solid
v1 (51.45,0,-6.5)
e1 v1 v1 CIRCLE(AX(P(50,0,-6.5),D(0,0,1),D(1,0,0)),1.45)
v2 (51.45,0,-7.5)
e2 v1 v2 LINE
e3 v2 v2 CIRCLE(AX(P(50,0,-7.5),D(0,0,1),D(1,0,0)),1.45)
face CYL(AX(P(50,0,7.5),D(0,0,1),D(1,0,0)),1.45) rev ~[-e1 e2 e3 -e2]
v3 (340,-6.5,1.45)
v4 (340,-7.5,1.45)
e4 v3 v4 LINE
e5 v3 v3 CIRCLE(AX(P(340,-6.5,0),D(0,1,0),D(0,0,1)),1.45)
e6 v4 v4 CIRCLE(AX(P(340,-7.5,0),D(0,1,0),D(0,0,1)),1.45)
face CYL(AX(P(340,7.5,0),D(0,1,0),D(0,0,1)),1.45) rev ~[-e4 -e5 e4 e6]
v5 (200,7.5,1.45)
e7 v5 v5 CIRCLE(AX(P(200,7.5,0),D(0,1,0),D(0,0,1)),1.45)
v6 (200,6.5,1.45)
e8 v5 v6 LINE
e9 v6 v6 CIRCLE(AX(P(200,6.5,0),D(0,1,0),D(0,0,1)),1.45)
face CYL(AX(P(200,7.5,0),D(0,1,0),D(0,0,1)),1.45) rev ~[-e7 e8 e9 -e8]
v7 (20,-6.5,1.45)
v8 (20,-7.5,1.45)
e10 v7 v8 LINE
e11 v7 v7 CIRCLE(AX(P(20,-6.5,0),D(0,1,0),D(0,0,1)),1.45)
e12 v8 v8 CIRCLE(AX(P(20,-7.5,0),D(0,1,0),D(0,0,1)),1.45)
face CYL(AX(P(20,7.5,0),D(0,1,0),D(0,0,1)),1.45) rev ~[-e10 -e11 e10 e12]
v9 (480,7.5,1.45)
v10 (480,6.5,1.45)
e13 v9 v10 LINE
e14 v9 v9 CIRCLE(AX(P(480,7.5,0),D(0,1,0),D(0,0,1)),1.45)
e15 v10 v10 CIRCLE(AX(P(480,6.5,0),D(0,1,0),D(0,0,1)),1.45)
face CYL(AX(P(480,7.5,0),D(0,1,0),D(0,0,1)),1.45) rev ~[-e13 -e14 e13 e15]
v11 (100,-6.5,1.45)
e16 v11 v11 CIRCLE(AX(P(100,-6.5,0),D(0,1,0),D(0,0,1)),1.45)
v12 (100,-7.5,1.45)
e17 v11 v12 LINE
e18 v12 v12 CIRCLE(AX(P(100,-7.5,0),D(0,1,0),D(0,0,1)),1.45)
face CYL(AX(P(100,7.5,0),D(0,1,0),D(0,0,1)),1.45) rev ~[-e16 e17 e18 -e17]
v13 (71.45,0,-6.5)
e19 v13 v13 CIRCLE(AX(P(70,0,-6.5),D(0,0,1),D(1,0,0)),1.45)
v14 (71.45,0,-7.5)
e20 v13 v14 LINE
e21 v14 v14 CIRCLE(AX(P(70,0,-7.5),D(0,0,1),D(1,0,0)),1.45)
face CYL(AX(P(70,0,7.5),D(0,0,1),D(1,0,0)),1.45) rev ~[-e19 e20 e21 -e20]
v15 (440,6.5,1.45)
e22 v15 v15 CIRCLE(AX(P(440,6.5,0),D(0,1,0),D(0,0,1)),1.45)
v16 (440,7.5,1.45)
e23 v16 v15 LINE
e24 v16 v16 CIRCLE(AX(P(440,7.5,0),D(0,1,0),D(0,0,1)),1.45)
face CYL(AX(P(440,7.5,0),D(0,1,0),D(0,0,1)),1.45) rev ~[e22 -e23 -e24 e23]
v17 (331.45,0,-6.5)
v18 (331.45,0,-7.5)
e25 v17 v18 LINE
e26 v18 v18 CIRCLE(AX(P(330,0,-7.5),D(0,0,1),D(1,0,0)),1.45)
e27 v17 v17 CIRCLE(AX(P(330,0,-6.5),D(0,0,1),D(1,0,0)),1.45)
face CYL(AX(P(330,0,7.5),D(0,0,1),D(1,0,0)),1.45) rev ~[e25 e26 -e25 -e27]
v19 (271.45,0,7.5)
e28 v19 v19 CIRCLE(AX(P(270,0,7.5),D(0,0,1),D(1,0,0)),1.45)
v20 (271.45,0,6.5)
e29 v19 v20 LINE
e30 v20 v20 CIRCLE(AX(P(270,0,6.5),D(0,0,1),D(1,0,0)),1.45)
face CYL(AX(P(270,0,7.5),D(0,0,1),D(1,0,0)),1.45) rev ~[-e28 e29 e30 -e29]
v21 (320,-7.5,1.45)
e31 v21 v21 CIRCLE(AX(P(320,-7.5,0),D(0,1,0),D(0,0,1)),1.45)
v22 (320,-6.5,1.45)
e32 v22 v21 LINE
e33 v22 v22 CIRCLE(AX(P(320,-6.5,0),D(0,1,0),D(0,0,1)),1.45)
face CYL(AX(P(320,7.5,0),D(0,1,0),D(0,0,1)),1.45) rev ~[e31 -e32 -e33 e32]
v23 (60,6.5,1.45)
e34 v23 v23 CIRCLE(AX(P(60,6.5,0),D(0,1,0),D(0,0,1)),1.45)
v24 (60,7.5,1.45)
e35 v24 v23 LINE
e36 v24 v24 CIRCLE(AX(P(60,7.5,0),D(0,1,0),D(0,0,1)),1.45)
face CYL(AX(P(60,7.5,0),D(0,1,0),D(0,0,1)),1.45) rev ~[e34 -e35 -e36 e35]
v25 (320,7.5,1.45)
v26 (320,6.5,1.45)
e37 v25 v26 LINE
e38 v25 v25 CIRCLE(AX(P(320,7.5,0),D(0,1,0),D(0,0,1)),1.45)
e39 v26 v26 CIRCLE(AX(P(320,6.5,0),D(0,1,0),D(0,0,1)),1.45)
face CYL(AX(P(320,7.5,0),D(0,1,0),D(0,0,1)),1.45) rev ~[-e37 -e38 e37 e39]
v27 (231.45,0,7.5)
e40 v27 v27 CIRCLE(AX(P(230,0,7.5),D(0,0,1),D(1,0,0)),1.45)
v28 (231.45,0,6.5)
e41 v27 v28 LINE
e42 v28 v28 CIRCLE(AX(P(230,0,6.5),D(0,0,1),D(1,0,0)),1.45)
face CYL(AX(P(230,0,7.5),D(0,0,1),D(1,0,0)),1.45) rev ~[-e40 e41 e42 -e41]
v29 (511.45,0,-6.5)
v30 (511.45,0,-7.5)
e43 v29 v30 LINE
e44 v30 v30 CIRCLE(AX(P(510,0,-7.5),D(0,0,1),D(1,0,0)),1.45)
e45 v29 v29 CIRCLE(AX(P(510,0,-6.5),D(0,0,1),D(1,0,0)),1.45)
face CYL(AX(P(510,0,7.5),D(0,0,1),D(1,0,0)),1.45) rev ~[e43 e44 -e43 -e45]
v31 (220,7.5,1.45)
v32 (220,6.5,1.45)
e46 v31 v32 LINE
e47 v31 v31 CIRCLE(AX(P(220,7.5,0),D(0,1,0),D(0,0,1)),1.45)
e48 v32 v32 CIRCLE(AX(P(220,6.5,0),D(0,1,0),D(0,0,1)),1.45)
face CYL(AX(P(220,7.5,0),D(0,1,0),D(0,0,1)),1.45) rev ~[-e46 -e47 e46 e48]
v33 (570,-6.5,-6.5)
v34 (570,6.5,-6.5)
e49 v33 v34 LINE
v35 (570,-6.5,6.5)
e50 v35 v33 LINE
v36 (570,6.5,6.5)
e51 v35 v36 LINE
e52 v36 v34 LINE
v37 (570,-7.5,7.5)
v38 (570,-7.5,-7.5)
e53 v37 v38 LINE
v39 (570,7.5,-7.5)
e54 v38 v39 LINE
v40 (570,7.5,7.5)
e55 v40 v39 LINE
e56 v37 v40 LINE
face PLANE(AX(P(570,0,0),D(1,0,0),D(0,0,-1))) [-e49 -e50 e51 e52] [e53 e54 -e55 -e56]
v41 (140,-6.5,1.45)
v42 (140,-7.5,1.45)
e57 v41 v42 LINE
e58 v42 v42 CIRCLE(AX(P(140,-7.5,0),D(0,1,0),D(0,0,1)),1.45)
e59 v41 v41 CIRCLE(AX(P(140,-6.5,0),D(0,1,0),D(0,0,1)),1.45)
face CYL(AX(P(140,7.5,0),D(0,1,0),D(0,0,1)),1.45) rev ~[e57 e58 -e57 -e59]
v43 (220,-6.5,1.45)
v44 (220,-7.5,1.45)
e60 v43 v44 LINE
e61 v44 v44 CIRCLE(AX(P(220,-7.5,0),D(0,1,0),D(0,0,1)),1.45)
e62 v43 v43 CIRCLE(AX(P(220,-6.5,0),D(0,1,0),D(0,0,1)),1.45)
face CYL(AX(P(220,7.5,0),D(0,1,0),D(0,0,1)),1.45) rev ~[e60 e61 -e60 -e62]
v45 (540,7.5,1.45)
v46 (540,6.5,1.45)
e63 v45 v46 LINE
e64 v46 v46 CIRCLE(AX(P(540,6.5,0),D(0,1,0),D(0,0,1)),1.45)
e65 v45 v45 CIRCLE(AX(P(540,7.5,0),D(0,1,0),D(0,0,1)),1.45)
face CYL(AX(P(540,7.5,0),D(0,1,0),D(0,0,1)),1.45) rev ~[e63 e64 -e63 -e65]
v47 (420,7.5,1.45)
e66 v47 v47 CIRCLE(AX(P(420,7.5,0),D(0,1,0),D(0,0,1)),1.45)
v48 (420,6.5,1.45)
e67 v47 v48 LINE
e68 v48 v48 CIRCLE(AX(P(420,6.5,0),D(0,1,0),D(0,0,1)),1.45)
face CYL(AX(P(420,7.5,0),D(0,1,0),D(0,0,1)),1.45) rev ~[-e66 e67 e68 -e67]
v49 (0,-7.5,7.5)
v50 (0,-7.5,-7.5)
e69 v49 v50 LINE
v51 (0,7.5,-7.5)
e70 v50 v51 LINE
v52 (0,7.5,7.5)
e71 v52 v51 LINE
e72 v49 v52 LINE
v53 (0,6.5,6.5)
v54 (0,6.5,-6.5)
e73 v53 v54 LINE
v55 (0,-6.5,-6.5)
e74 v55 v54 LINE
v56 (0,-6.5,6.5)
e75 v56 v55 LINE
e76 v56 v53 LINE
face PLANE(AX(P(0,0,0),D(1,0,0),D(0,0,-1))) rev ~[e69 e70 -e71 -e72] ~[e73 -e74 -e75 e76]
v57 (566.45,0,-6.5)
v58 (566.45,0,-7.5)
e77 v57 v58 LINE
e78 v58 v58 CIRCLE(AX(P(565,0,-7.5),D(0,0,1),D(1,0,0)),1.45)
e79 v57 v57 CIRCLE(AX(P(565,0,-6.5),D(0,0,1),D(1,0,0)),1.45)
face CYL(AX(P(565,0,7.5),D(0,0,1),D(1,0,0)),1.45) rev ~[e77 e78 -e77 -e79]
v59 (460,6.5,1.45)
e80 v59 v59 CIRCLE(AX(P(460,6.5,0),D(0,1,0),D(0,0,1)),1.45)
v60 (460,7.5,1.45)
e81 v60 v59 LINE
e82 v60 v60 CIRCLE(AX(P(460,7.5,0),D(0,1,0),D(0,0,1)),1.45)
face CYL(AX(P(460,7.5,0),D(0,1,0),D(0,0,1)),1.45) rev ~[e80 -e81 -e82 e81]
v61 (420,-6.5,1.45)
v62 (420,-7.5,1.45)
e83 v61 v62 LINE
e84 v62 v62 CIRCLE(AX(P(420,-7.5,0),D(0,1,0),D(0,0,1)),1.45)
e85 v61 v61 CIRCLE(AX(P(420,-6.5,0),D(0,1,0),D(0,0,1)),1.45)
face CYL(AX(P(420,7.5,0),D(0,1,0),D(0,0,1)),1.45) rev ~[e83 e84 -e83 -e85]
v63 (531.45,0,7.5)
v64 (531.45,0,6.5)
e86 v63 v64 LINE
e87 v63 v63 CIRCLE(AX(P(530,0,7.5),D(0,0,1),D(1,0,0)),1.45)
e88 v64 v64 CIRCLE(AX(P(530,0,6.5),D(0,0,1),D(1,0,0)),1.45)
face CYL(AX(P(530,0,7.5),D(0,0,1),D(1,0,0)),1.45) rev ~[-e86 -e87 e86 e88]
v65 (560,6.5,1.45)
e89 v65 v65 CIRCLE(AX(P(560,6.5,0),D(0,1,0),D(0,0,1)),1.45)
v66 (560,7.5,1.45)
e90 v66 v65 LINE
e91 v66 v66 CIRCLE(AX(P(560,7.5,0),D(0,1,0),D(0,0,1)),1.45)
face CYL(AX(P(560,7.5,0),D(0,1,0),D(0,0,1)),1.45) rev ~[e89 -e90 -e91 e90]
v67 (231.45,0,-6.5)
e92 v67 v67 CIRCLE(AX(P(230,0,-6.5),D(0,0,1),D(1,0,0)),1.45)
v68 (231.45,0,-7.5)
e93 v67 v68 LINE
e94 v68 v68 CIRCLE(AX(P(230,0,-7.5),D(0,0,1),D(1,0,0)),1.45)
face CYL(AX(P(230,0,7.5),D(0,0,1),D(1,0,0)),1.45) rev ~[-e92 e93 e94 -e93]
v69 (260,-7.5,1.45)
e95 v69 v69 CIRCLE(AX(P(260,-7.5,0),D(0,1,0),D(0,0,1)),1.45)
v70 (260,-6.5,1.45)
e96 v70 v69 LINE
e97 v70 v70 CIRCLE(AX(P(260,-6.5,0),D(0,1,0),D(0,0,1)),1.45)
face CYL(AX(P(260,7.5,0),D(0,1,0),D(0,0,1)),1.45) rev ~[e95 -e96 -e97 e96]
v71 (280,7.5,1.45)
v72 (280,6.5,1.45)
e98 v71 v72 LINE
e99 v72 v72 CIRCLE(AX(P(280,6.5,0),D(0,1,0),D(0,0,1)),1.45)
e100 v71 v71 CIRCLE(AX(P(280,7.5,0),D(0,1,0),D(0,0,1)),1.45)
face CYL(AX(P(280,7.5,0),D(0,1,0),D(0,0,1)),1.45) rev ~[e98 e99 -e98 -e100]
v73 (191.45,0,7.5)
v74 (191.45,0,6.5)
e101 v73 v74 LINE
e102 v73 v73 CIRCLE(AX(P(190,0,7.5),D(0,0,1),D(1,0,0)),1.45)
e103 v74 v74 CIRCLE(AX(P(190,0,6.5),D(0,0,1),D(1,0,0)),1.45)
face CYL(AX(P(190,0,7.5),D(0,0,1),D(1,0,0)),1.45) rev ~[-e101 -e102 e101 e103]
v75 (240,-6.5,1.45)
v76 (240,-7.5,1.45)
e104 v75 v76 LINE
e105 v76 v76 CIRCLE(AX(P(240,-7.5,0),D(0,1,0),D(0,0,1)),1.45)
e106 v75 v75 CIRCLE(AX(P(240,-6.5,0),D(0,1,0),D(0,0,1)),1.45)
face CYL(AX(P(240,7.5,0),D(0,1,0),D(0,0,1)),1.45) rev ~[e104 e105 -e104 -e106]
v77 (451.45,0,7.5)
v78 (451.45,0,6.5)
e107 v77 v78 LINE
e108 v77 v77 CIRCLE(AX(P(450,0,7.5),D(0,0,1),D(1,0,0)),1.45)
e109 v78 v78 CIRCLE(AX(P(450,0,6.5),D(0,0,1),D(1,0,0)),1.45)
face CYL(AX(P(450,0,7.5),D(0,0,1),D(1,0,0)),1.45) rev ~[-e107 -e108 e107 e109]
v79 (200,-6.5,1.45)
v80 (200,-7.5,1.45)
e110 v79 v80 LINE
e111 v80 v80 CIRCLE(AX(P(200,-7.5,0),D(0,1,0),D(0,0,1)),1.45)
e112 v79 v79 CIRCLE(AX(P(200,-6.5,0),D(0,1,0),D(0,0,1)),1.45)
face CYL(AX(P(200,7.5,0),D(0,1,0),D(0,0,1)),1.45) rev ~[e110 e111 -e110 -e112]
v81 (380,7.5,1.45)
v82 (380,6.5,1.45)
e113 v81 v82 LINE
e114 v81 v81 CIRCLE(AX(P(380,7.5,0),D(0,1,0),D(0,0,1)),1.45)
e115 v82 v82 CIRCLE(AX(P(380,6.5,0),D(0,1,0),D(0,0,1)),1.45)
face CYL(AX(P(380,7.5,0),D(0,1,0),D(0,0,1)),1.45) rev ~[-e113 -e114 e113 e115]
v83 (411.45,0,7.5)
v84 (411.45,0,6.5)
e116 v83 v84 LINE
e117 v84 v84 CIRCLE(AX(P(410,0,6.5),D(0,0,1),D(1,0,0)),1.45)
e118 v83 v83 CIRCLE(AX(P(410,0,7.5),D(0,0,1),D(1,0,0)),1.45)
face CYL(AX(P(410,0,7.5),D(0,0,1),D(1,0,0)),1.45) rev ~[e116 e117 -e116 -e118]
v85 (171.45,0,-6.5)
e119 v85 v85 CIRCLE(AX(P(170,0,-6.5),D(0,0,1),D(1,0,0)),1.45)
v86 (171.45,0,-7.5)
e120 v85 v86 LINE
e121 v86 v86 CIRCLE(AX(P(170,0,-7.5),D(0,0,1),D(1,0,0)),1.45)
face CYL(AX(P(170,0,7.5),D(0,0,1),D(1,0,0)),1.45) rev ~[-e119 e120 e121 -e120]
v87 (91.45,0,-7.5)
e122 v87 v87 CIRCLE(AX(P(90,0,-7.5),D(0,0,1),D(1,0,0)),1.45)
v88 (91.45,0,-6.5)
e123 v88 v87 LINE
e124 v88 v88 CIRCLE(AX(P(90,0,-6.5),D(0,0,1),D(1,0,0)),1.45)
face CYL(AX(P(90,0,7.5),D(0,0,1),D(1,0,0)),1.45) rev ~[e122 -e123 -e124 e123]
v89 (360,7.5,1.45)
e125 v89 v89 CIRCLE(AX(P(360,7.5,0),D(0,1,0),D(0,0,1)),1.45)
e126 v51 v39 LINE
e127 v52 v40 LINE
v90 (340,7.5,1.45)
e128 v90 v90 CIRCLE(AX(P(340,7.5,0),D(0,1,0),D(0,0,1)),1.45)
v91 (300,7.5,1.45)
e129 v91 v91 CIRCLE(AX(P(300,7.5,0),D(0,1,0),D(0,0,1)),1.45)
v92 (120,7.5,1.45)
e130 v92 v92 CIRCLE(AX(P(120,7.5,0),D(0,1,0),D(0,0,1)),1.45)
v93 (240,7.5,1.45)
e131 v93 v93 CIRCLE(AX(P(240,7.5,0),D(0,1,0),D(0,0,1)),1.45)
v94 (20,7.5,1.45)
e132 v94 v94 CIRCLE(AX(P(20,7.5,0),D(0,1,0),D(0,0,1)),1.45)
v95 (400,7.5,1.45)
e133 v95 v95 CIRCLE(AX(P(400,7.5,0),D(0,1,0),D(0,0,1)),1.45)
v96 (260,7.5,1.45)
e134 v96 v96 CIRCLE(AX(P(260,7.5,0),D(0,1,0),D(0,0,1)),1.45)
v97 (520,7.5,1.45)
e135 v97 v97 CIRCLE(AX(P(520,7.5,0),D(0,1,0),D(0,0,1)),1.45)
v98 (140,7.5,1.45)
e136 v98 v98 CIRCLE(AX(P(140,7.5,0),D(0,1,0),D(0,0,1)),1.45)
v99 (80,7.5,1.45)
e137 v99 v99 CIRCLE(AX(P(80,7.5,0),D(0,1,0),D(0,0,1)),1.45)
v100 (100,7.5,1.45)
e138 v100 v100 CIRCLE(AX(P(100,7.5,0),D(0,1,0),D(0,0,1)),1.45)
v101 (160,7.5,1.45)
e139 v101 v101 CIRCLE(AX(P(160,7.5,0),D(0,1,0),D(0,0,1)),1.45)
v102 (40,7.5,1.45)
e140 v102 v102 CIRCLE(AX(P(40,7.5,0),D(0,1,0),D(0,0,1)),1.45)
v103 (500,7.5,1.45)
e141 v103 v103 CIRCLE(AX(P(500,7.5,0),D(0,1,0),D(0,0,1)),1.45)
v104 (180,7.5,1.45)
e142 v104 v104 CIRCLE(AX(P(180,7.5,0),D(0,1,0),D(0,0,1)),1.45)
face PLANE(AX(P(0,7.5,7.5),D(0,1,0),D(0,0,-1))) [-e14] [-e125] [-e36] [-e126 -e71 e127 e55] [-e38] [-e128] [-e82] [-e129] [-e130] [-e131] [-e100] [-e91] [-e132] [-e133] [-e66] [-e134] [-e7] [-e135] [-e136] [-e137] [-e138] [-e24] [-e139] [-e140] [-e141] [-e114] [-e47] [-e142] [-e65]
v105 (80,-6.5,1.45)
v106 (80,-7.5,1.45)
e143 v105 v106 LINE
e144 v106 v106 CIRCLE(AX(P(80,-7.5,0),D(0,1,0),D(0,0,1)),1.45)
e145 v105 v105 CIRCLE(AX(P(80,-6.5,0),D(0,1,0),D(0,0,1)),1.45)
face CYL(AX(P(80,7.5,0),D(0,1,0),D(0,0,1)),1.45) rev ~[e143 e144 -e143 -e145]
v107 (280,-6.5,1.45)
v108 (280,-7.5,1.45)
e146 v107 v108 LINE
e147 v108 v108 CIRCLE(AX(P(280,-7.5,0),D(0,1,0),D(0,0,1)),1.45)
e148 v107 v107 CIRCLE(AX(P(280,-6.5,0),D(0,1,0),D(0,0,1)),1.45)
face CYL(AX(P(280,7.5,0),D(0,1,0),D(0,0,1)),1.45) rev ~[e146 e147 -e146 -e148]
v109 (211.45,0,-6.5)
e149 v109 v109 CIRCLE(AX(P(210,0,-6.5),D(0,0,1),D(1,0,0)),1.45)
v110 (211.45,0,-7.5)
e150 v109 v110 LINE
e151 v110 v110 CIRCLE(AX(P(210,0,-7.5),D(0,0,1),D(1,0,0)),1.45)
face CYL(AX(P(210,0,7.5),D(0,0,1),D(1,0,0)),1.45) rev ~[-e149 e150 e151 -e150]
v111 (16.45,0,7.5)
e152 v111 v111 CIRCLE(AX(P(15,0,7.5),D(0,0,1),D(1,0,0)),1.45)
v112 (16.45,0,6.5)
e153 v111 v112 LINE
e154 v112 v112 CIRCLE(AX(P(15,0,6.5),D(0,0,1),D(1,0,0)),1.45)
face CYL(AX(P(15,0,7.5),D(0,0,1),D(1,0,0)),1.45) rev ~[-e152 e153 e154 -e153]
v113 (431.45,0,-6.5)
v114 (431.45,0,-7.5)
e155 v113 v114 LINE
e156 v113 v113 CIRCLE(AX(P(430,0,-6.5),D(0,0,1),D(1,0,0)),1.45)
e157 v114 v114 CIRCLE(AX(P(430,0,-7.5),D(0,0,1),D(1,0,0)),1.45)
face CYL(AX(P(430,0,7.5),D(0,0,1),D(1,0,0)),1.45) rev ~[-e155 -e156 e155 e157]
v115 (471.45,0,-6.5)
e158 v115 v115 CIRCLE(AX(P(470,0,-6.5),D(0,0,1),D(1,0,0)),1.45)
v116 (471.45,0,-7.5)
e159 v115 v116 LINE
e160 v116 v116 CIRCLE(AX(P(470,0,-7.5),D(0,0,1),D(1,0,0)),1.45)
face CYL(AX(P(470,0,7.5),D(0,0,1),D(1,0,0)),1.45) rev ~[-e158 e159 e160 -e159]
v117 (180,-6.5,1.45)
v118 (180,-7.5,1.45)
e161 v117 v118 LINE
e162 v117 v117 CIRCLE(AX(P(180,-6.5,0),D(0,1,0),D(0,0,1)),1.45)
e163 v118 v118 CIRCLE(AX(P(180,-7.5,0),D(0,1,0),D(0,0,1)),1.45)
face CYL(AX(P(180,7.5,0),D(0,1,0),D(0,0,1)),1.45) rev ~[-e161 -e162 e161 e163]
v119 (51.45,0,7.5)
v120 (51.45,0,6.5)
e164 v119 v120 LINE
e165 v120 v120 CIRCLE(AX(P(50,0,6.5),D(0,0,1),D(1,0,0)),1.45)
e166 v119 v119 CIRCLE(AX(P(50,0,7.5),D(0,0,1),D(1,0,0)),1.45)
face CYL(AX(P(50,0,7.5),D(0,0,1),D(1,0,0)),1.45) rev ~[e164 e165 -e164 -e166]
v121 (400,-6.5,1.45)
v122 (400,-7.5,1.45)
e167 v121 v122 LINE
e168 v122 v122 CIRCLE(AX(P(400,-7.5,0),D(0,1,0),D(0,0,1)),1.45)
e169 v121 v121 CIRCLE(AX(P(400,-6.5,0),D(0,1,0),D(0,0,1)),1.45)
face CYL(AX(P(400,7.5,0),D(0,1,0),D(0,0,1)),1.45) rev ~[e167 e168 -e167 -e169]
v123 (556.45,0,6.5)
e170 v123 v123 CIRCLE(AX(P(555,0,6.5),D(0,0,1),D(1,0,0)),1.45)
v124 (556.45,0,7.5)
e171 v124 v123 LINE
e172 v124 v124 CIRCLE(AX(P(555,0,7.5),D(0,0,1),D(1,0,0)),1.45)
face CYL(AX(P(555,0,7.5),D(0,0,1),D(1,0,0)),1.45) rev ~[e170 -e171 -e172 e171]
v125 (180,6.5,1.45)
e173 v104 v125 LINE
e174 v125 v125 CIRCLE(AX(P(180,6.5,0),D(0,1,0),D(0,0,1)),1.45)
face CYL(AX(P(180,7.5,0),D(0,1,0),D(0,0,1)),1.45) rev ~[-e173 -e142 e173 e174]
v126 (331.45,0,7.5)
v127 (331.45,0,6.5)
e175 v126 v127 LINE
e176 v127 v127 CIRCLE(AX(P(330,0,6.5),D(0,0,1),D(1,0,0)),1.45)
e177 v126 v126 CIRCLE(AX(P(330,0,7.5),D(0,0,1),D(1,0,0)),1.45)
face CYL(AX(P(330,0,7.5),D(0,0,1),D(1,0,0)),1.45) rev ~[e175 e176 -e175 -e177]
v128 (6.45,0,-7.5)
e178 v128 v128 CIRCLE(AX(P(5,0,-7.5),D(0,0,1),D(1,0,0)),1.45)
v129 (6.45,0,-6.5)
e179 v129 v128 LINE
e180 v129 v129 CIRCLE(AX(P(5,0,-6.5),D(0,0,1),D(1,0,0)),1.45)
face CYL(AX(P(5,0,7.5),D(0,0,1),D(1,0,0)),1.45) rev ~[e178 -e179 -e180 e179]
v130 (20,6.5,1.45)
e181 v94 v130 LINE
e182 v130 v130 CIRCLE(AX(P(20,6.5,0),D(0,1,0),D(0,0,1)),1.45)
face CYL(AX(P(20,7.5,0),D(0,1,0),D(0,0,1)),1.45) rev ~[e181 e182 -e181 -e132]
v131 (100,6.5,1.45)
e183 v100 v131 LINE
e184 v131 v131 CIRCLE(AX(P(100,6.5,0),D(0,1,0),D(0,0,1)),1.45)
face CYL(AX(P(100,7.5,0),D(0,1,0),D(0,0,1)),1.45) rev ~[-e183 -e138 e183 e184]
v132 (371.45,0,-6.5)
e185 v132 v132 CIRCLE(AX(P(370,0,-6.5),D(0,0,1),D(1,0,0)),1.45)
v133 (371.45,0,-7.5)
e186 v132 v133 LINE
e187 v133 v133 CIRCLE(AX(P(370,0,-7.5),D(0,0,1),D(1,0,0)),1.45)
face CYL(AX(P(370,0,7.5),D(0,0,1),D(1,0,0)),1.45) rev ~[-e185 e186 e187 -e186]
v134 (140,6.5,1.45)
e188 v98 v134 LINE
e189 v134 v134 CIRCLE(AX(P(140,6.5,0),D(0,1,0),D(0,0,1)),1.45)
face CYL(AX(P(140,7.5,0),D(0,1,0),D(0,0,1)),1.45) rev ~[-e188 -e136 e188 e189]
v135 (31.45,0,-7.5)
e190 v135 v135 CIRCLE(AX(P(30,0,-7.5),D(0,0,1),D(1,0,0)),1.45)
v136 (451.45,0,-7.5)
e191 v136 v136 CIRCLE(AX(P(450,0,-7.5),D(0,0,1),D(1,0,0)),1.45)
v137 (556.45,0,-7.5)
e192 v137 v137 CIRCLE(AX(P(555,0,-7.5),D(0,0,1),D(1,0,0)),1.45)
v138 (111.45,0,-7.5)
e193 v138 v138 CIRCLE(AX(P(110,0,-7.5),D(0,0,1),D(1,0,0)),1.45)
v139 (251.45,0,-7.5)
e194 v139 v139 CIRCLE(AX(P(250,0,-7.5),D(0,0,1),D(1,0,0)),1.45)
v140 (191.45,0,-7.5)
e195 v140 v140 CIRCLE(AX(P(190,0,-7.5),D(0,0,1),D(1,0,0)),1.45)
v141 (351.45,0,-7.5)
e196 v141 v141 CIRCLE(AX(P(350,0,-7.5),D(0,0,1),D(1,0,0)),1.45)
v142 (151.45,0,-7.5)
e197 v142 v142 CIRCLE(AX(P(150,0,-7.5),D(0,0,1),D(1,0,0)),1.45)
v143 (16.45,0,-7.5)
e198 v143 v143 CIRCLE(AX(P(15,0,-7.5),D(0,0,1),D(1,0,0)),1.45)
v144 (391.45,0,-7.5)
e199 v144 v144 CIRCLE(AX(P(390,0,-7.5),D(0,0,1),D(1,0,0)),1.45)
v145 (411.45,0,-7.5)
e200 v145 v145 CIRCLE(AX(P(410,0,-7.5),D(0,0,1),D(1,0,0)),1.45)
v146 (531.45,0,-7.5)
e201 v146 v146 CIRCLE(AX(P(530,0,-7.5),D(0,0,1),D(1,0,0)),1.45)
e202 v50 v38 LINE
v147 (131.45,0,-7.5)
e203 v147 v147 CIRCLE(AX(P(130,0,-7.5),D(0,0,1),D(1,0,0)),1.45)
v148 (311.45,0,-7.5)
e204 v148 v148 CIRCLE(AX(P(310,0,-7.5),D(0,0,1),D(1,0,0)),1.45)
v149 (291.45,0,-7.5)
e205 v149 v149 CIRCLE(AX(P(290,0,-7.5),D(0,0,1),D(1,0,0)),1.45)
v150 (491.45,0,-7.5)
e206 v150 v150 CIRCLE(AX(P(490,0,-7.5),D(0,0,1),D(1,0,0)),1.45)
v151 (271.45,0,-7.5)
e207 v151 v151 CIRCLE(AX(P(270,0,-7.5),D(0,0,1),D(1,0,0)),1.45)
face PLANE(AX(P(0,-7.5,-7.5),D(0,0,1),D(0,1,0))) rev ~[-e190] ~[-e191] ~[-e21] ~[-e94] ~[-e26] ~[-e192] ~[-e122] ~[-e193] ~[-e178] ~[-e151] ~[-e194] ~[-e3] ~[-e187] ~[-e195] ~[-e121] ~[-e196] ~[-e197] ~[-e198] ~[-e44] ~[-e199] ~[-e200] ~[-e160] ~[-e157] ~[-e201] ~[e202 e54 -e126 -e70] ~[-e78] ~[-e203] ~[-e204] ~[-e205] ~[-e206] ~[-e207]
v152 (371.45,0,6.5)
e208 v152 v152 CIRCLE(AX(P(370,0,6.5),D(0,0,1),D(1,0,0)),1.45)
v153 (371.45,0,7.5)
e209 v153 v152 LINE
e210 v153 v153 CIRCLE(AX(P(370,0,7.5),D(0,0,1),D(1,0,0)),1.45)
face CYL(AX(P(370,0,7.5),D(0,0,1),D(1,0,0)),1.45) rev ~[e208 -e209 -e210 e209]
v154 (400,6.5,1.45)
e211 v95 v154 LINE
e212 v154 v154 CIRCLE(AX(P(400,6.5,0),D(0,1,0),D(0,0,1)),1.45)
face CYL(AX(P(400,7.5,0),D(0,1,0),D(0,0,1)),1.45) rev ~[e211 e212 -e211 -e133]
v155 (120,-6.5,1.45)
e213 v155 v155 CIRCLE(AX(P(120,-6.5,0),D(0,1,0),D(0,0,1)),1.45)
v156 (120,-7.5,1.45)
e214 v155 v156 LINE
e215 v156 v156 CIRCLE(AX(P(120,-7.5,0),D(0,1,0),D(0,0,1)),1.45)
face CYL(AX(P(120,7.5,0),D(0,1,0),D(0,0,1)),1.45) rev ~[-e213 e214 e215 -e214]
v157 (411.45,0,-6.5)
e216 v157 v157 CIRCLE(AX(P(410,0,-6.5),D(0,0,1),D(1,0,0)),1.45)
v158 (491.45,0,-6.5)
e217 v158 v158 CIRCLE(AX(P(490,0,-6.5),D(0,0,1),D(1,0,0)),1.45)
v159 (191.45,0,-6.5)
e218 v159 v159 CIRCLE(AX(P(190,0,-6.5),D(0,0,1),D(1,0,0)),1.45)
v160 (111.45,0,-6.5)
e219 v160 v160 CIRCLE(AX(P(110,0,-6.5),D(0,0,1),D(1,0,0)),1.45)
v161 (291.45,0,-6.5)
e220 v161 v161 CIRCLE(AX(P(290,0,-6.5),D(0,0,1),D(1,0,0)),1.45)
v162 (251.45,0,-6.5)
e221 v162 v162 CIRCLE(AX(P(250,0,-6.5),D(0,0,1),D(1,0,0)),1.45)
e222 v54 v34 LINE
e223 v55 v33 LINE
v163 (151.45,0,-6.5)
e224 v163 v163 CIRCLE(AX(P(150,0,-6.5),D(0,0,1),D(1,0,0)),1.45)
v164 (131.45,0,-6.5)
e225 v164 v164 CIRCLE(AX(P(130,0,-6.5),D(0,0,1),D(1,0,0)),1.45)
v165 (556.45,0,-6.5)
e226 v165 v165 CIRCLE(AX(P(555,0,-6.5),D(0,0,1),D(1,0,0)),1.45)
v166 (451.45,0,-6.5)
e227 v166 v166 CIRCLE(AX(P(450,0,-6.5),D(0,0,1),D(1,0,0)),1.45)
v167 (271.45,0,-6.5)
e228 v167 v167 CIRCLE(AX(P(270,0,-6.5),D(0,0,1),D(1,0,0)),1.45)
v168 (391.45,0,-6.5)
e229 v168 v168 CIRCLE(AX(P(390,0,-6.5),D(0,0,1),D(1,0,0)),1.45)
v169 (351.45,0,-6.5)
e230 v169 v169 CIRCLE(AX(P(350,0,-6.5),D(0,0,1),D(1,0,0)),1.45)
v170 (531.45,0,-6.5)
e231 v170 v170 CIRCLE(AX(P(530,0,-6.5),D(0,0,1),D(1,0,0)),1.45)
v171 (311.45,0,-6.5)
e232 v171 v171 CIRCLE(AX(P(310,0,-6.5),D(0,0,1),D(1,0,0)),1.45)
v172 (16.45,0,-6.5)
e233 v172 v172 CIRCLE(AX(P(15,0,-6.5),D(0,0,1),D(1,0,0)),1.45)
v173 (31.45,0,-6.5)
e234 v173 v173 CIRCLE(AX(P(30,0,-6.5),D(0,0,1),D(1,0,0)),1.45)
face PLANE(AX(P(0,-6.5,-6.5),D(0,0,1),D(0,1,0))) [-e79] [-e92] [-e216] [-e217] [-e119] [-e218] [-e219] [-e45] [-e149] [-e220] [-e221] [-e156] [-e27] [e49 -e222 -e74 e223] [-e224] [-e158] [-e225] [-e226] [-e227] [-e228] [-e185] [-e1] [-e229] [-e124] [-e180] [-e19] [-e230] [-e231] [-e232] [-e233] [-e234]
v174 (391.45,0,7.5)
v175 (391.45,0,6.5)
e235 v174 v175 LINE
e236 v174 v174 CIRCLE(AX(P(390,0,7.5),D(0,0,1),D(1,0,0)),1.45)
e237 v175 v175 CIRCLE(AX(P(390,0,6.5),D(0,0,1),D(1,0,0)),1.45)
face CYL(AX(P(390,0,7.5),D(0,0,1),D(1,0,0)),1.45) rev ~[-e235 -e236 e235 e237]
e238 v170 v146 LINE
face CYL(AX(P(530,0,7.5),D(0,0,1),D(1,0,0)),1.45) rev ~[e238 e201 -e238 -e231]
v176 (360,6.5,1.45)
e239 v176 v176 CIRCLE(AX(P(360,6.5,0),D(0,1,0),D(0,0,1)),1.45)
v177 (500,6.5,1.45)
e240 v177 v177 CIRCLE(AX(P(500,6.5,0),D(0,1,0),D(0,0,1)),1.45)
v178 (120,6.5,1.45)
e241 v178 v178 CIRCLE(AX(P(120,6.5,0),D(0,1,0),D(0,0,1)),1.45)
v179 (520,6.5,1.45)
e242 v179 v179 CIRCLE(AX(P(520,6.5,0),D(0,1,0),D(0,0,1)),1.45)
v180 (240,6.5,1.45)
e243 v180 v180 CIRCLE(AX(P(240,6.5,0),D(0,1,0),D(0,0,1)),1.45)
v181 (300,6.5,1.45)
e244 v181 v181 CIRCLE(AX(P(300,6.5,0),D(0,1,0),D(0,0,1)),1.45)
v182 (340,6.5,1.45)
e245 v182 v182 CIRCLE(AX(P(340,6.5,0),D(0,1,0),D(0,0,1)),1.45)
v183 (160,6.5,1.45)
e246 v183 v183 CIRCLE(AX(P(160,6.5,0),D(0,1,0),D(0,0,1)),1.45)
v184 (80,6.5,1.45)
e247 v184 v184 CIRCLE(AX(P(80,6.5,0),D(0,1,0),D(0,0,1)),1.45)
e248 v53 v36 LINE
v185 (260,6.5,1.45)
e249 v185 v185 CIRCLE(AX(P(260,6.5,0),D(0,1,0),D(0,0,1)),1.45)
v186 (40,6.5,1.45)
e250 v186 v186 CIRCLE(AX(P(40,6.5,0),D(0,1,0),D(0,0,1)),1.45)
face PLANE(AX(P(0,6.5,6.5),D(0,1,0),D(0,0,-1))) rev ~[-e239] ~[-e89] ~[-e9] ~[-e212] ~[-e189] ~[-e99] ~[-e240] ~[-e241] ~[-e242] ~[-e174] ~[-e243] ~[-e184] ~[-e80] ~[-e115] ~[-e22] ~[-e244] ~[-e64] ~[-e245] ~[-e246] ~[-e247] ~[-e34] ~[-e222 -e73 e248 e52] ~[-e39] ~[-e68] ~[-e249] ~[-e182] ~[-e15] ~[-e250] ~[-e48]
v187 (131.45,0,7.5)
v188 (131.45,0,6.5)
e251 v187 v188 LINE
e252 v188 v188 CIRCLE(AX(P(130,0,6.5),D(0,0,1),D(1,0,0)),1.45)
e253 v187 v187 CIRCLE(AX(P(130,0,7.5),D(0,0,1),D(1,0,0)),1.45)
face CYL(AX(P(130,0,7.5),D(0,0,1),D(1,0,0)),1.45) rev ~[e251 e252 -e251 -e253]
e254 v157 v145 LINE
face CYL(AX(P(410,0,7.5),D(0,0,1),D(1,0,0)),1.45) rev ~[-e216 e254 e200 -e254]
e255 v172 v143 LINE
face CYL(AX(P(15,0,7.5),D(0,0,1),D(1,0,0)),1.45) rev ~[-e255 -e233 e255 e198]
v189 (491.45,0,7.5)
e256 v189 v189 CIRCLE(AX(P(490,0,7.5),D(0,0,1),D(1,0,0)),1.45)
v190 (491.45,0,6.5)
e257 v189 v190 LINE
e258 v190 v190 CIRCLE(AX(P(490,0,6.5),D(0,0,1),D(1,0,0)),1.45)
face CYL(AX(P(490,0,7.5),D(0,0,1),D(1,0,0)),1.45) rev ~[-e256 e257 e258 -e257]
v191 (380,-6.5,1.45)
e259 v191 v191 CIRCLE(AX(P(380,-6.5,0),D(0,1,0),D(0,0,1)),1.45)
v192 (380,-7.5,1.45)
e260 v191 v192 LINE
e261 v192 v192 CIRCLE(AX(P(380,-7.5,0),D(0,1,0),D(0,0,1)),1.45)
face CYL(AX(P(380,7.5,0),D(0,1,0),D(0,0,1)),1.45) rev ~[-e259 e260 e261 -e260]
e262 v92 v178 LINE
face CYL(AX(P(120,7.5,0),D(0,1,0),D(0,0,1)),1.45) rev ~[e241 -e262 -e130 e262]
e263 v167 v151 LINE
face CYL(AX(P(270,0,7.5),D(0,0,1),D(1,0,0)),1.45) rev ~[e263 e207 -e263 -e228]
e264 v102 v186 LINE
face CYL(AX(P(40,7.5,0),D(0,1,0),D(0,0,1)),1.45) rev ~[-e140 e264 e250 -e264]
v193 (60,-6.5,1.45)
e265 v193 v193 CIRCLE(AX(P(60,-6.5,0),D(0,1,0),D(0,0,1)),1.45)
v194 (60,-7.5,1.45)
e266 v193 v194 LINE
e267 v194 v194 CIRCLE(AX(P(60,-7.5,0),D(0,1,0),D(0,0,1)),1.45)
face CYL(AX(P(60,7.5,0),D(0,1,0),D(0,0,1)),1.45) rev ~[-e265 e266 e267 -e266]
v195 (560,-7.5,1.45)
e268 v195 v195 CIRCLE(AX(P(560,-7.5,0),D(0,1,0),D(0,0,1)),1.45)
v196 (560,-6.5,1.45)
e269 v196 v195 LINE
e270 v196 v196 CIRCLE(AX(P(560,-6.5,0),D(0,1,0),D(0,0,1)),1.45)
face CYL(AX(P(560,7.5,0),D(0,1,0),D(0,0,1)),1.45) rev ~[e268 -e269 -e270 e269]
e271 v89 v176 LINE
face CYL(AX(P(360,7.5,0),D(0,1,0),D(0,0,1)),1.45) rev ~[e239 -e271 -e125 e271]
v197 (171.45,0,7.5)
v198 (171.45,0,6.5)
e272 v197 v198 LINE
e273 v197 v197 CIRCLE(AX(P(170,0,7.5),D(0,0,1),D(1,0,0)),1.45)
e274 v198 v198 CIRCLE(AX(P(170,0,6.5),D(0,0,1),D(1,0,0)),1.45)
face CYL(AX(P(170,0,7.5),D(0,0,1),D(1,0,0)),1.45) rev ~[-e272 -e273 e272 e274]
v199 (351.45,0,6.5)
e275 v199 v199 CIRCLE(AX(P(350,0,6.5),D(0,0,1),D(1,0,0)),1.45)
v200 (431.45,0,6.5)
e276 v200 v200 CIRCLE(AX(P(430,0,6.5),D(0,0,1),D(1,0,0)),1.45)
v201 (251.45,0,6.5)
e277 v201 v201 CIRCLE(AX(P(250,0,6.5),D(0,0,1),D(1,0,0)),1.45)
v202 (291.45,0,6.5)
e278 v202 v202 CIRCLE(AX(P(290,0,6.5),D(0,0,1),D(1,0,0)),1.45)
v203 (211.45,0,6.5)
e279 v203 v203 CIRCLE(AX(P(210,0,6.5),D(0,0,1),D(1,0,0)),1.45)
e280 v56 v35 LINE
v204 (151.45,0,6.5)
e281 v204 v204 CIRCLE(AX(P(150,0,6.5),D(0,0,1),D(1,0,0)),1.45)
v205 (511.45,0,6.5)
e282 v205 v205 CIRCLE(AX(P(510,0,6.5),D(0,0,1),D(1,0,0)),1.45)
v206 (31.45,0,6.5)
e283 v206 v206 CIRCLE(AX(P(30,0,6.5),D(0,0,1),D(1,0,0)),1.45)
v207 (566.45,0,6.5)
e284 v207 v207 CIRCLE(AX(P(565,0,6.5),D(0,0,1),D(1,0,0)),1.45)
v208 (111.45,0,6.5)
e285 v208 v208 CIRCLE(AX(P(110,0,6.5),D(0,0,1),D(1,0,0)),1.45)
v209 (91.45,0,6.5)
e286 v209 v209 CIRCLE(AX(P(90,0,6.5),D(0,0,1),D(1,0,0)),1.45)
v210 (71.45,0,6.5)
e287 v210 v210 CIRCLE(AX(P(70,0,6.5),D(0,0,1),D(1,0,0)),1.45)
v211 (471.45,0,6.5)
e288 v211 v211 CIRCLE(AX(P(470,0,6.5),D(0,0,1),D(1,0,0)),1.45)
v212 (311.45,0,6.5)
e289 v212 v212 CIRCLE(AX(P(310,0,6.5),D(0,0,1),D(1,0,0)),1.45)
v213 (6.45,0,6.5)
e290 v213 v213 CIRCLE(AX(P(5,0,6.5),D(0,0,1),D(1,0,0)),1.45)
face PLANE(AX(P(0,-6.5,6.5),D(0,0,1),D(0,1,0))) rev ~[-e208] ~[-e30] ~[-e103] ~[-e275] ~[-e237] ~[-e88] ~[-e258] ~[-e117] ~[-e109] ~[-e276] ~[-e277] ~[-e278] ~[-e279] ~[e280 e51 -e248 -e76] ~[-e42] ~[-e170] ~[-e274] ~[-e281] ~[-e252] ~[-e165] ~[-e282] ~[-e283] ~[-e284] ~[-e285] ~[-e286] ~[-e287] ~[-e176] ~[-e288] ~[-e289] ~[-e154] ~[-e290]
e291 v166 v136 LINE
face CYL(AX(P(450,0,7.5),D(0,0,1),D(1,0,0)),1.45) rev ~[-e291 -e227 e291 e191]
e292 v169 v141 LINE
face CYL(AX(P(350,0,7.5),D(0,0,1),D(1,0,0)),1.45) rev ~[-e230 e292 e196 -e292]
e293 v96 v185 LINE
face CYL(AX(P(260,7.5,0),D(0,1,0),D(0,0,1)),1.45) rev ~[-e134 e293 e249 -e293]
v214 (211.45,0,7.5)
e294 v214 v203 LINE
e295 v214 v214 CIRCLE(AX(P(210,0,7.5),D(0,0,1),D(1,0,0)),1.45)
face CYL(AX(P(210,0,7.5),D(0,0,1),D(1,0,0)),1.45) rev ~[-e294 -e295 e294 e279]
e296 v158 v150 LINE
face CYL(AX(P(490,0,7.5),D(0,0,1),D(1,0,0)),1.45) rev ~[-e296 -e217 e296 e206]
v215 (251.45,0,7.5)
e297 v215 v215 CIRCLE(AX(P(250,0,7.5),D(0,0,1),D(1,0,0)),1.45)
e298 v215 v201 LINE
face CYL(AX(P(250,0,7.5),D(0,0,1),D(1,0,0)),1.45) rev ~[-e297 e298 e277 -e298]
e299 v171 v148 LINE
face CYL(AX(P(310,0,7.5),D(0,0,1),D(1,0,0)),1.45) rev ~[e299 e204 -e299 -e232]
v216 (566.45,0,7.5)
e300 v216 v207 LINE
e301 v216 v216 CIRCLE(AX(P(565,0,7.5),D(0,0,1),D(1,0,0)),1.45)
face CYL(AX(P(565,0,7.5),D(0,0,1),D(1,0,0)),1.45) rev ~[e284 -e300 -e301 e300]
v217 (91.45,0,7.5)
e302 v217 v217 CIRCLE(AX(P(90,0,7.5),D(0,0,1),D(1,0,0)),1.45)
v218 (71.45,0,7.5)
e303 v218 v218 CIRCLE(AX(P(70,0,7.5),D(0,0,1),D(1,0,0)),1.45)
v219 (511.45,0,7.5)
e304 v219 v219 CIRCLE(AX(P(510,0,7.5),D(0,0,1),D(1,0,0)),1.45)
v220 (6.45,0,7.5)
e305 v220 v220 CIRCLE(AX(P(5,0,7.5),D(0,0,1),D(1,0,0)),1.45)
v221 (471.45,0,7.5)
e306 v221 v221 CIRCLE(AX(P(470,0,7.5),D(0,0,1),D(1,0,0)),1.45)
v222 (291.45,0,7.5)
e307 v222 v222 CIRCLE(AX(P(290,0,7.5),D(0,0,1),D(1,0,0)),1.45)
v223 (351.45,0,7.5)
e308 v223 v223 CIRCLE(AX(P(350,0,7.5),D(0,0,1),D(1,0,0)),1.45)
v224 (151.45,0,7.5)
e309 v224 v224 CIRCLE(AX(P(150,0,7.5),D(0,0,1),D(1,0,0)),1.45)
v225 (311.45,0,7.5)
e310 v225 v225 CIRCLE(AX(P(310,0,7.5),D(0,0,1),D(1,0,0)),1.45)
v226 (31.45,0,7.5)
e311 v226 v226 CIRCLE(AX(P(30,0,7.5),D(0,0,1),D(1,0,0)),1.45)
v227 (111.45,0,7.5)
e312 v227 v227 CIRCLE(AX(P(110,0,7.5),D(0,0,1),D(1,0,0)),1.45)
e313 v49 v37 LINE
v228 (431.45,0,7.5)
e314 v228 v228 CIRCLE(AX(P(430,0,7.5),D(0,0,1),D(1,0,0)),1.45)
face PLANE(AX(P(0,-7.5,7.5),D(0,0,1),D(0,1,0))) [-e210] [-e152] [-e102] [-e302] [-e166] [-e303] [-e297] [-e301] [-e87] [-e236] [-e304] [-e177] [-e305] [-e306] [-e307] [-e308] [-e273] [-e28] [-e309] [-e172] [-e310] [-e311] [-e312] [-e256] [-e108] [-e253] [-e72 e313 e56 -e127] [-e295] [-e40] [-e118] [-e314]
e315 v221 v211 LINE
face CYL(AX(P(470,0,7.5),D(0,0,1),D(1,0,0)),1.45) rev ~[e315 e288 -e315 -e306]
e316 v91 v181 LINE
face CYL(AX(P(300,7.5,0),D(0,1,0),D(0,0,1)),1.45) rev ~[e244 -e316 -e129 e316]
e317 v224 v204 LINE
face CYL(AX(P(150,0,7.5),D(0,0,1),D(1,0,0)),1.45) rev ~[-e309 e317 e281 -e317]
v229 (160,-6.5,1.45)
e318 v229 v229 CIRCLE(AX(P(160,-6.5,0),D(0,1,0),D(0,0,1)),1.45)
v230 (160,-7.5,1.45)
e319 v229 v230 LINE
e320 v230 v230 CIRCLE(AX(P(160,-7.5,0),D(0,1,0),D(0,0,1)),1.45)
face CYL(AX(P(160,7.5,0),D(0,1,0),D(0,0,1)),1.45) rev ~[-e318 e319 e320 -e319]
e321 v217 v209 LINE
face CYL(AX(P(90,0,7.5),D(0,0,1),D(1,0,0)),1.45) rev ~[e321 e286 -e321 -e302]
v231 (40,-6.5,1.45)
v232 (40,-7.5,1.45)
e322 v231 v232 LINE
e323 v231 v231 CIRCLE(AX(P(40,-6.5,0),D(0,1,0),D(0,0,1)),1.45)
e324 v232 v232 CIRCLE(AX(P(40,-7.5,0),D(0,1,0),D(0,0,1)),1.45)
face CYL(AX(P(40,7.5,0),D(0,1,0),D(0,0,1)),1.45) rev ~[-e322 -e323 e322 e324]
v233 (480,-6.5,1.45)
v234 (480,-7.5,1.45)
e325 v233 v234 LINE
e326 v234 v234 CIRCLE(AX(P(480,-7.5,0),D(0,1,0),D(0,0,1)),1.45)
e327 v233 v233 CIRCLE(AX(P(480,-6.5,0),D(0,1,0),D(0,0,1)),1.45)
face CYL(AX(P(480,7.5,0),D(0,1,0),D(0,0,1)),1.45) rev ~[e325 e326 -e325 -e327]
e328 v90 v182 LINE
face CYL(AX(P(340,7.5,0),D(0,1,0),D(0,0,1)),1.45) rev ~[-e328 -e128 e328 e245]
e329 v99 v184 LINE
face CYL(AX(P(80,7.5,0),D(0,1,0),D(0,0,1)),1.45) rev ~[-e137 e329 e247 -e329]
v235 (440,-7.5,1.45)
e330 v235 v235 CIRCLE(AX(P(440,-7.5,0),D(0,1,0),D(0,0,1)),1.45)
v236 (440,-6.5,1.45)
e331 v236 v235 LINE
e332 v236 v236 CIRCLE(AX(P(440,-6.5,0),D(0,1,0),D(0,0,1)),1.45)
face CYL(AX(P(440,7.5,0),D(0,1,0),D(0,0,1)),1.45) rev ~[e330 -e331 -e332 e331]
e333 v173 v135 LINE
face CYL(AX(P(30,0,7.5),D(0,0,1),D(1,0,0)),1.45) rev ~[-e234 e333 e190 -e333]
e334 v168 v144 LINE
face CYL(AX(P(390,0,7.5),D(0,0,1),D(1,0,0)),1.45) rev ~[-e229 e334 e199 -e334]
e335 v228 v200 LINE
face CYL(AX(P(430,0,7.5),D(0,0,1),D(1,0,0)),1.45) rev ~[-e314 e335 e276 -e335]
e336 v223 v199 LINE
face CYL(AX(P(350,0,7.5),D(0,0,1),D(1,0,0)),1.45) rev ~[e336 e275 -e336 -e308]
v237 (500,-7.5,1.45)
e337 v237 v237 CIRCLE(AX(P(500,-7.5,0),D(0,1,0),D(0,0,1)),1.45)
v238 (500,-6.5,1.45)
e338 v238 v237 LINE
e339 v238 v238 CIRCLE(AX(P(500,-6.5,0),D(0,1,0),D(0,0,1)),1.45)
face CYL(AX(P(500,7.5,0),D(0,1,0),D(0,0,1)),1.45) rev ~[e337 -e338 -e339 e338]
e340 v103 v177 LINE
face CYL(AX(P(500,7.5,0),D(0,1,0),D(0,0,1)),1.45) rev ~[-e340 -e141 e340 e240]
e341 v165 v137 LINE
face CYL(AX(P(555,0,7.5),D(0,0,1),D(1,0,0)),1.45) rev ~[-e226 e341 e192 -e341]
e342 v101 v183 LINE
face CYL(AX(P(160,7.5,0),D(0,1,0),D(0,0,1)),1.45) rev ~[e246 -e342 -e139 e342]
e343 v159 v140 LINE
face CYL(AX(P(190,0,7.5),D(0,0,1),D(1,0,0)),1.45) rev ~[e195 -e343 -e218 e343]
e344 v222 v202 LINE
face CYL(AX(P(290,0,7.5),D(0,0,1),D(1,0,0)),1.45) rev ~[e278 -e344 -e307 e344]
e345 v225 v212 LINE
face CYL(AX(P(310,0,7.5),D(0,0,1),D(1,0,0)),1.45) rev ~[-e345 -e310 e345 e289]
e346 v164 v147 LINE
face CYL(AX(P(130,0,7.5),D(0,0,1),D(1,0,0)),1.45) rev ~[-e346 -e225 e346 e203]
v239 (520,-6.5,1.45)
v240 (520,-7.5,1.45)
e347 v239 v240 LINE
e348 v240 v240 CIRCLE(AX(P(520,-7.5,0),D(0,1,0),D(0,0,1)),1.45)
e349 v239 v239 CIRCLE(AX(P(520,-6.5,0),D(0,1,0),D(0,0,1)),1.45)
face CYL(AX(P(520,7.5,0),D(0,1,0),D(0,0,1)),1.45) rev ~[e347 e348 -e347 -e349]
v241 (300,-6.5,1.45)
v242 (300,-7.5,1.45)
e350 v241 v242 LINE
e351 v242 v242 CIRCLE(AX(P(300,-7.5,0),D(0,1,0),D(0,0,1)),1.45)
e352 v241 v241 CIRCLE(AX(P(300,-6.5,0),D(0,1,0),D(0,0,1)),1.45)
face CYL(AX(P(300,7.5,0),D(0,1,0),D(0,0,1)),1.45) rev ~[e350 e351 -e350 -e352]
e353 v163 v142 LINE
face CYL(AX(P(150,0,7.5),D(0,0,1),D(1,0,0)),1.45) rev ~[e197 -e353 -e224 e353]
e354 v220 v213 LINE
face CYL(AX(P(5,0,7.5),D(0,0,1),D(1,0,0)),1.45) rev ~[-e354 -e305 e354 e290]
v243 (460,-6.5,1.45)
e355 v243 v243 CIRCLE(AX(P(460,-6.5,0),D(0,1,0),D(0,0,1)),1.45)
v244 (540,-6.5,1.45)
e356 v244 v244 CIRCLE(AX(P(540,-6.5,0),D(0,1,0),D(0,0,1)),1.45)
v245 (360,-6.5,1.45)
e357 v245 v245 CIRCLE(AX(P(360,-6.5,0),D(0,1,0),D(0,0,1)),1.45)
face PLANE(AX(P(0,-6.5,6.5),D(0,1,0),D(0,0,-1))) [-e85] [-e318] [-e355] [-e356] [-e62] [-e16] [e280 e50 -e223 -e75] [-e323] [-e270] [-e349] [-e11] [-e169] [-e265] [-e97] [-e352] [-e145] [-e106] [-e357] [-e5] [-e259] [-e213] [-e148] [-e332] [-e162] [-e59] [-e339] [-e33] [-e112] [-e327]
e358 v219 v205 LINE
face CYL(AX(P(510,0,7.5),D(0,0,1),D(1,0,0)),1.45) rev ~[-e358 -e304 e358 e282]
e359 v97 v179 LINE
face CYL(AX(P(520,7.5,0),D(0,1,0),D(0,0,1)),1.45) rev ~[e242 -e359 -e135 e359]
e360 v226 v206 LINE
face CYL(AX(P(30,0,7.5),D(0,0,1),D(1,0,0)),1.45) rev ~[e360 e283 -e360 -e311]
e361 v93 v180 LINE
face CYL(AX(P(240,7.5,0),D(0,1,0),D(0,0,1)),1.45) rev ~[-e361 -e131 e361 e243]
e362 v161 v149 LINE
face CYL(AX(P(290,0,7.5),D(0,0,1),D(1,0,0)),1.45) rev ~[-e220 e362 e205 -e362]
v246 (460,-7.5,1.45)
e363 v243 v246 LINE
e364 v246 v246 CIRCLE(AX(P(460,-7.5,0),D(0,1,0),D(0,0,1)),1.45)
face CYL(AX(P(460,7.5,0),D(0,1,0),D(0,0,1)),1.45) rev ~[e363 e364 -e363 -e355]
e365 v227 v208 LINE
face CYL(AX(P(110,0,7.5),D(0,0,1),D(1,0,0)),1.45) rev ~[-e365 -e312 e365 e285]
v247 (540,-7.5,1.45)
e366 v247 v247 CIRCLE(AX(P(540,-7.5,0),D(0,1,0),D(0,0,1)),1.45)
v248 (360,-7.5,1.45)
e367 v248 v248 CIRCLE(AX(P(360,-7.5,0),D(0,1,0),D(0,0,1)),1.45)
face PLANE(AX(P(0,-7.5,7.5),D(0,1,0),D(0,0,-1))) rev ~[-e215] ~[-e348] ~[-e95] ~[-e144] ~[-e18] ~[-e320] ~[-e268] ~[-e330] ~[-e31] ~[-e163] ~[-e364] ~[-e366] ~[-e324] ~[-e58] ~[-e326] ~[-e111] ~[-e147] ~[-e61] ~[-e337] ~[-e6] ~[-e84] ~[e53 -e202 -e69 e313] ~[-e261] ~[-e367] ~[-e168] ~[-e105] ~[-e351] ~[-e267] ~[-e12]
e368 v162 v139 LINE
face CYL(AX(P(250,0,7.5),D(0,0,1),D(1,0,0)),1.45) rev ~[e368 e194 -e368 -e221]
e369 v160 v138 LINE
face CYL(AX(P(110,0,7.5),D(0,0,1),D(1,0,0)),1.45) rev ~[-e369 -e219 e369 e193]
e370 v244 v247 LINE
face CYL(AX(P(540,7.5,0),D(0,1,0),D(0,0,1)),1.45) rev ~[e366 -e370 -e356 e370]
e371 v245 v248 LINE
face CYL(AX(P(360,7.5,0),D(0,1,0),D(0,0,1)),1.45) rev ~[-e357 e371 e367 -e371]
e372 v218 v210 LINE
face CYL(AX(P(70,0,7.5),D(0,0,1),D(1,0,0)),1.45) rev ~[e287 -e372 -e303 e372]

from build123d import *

# Parameters (mm, degrees)
SKETCH_1_W          = 15
SKETCH_1_H          = 15
SKETCH_1_W_2        = 13
SKETCH_1_H_2        = 13
EXTRUDE_1_DEPTH     = 570
SKETCH_2_R          = 1.45
CUT_EXTRUDE_1_DEPTH = 571.246657158
SKETCH_3_R          = 1.45
CUT_EXTRUDE_2_DEPTH = 571.246657158


with BuildPart() as part:
    # 草图1 → 凸台-拉伸1 (new body)
    with BuildSketch(Plane(origin=(0, 0, 0), x_dir=(0, 0, -1), z_dir=(1, 0, 0))):
        Rectangle(SKETCH_1_W, SKETCH_1_H)
        Rectangle(SKETCH_1_W_2, SKETCH_1_H_2, mode=Mode.SUBTRACT)
    extrude(amount=EXTRUDE_1_DEPTH)

    # 草图2 → 切除-拉伸1 (cut, through all)
    with BuildSketch(Plane(origin=(0, 7.5, 0), x_dir=(1, 0, 0), z_dir=(0, 1, 0))):
        with Locations(Location((20, 0, 0), (0, 0, 270))):
            Circle(SKETCH_2_R)
        with Locations(Location((40, 0, 0), (0, 0, 270))):
            Circle(SKETCH_2_R)
        with Locations(Location((60, 0, 0), (0, 0, 270))):
            Circle(SKETCH_2_R)
        with Locations(Location((80, 0, 0), (0, 0, 270))):
            Circle(SKETCH_2_R)
        with Locations(Location((100, 0, 0), (0, 0, 270))):
            Circle(SKETCH_2_R)
        with Locations(Location((120, 0, 0), (0, 0, 270))):
            Circle(SKETCH_2_R)
        with Locations(Location((140, 0, 0), (0, 0, 270))):
            Circle(SKETCH_2_R)
        with Locations(Location((160, 0, 0), (0, 0, 270))):
            Circle(SKETCH_2_R)
        with Locations(Location((180, 0, 0), (0, 0, 270))):
            Circle(SKETCH_2_R)
        with Locations(Location((200, 0, 0), (0, 0, 270))):
            Circle(SKETCH_2_R)
        with Locations(Location((220, 0, 0), (0, 0, 270))):
            Circle(SKETCH_2_R)
        with Locations(Location((240, 0, 0), (0, 0, 270))):
            Circle(SKETCH_2_R)
        with Locations(Location((260, 0, 0), (0, 0, 270))):
            Circle(SKETCH_2_R)
        with Locations(Location((280, 0, 0), (0, 0, 270))):
            Circle(SKETCH_2_R)
        with Locations(Location((300, 0, 0), (0, 0, 270))):
            Circle(SKETCH_2_R)
        with Locations(Location((320, 0, 0), (0, 0, 270))):
            Circle(SKETCH_2_R)
        with Locations(Location((340, 0, 0), (0, 0, 270))):
            Circle(SKETCH_2_R)
        with Locations(Location((360, 0, 0), (0, 0, 270))):
            Circle(SKETCH_2_R)
        with Locations(Location((380, 0, 0), (0, 0, 270))):
            Circle(SKETCH_2_R)
        with Locations(Location((400, 0, 0), (0, 0, 270))):
            Circle(SKETCH_2_R)
        with Locations(Location((420, 0, 0), (0, 0, 270))):
            Circle(SKETCH_2_R)
        with Locations(Location((440, 0, 0), (0, 0, 270))):
            Circle(SKETCH_2_R)
        with Locations(Location((460, 0, 0), (0, 0, 270))):
            Circle(SKETCH_2_R)
        with Locations(Location((480, 0, 0), (0, 0, 270))):
            Circle(SKETCH_2_R)
        with Locations(Location((500, 0, 0), (0, 0, 270))):
            Circle(SKETCH_2_R)
        with Locations(Location((520, 0, 0), (0, 0, 270))):
            Circle(SKETCH_2_R)
        with Locations(Location((540, 0, 0), (0, 0, 270))):
            Circle(SKETCH_2_R)
        with Locations(Location((560, 0, 0), (0, 0, 270))):
            Circle(SKETCH_2_R)
    extrude(amount=-CUT_EXTRUDE_1_DEPTH, mode=Mode.SUBTRACT)

    # 草图3 → 切除-拉伸2 (cut, through all)
    with BuildSketch(Plane.XY.offset(7.5)):
        with Locations((5, 0)):
            Circle(SKETCH_3_R)
        with Locations((15, 0)):
            Circle(SKETCH_3_R)
        with Locations((565, 0)):
            Circle(SKETCH_3_R)
        with Locations((555, 0)):
            Circle(SKETCH_3_R)
        with Locations((30, 0)):
            Circle(SKETCH_3_R)
        with Locations((50, 0)):
            Circle(SKETCH_3_R)
        with Locations((70, 0)):
            Circle(SKETCH_3_R)
        with Locations((90, 0)):
            Circle(SKETCH_3_R)
        with Locations((110, 0)):
            Circle(SKETCH_3_R)
        with Locations((130, 0)):
            Circle(SKETCH_3_R)
        with Locations((150, 0)):
            Circle(SKETCH_3_R)
        with Locations((170, 0)):
            Circle(SKETCH_3_R)
        with Locations((190, 0)):
            Circle(SKETCH_3_R)
        with Locations((210, 0)):
            Circle(SKETCH_3_R)
        with Locations((230, 0)):
            Circle(SKETCH_3_R)
        with Locations((250, 0)):
            Circle(SKETCH_3_R)
        with Locations((270, 0)):
            Circle(SKETCH_3_R)
        with Locations((290, 0)):
            Circle(SKETCH_3_R)
        with Locations((310, 0)):
            Circle(SKETCH_3_R)
        with Locations((330, 0)):
            Circle(SKETCH_3_R)
        with Locations((350, 0)):
            Circle(SKETCH_3_R)
        with Locations((370, 0)):
            Circle(SKETCH_3_R)
        with Locations((390, 0)):
            Circle(SKETCH_3_R)
        with Locations((410, 0)):
            Circle(SKETCH_3_R)
        with Locations((430, 0)):
            Circle(SKETCH_3_R)
        with Locations((450, 0)):
            Circle(SKETCH_3_R)
        with Locations((470, 0)):
            Circle(SKETCH_3_R)
        with Locations((490, 0)):
            Circle(SKETCH_3_R)
        with Locations((510, 0)):
            Circle(SKETCH_3_R)
        with Locations((530, 0)):
            Circle(SKETCH_3_R)
    extrude(amount=-CUT_EXTRUDE_2_DEPTH, mode=Mode.SUBTRACT)


solid = part.part
